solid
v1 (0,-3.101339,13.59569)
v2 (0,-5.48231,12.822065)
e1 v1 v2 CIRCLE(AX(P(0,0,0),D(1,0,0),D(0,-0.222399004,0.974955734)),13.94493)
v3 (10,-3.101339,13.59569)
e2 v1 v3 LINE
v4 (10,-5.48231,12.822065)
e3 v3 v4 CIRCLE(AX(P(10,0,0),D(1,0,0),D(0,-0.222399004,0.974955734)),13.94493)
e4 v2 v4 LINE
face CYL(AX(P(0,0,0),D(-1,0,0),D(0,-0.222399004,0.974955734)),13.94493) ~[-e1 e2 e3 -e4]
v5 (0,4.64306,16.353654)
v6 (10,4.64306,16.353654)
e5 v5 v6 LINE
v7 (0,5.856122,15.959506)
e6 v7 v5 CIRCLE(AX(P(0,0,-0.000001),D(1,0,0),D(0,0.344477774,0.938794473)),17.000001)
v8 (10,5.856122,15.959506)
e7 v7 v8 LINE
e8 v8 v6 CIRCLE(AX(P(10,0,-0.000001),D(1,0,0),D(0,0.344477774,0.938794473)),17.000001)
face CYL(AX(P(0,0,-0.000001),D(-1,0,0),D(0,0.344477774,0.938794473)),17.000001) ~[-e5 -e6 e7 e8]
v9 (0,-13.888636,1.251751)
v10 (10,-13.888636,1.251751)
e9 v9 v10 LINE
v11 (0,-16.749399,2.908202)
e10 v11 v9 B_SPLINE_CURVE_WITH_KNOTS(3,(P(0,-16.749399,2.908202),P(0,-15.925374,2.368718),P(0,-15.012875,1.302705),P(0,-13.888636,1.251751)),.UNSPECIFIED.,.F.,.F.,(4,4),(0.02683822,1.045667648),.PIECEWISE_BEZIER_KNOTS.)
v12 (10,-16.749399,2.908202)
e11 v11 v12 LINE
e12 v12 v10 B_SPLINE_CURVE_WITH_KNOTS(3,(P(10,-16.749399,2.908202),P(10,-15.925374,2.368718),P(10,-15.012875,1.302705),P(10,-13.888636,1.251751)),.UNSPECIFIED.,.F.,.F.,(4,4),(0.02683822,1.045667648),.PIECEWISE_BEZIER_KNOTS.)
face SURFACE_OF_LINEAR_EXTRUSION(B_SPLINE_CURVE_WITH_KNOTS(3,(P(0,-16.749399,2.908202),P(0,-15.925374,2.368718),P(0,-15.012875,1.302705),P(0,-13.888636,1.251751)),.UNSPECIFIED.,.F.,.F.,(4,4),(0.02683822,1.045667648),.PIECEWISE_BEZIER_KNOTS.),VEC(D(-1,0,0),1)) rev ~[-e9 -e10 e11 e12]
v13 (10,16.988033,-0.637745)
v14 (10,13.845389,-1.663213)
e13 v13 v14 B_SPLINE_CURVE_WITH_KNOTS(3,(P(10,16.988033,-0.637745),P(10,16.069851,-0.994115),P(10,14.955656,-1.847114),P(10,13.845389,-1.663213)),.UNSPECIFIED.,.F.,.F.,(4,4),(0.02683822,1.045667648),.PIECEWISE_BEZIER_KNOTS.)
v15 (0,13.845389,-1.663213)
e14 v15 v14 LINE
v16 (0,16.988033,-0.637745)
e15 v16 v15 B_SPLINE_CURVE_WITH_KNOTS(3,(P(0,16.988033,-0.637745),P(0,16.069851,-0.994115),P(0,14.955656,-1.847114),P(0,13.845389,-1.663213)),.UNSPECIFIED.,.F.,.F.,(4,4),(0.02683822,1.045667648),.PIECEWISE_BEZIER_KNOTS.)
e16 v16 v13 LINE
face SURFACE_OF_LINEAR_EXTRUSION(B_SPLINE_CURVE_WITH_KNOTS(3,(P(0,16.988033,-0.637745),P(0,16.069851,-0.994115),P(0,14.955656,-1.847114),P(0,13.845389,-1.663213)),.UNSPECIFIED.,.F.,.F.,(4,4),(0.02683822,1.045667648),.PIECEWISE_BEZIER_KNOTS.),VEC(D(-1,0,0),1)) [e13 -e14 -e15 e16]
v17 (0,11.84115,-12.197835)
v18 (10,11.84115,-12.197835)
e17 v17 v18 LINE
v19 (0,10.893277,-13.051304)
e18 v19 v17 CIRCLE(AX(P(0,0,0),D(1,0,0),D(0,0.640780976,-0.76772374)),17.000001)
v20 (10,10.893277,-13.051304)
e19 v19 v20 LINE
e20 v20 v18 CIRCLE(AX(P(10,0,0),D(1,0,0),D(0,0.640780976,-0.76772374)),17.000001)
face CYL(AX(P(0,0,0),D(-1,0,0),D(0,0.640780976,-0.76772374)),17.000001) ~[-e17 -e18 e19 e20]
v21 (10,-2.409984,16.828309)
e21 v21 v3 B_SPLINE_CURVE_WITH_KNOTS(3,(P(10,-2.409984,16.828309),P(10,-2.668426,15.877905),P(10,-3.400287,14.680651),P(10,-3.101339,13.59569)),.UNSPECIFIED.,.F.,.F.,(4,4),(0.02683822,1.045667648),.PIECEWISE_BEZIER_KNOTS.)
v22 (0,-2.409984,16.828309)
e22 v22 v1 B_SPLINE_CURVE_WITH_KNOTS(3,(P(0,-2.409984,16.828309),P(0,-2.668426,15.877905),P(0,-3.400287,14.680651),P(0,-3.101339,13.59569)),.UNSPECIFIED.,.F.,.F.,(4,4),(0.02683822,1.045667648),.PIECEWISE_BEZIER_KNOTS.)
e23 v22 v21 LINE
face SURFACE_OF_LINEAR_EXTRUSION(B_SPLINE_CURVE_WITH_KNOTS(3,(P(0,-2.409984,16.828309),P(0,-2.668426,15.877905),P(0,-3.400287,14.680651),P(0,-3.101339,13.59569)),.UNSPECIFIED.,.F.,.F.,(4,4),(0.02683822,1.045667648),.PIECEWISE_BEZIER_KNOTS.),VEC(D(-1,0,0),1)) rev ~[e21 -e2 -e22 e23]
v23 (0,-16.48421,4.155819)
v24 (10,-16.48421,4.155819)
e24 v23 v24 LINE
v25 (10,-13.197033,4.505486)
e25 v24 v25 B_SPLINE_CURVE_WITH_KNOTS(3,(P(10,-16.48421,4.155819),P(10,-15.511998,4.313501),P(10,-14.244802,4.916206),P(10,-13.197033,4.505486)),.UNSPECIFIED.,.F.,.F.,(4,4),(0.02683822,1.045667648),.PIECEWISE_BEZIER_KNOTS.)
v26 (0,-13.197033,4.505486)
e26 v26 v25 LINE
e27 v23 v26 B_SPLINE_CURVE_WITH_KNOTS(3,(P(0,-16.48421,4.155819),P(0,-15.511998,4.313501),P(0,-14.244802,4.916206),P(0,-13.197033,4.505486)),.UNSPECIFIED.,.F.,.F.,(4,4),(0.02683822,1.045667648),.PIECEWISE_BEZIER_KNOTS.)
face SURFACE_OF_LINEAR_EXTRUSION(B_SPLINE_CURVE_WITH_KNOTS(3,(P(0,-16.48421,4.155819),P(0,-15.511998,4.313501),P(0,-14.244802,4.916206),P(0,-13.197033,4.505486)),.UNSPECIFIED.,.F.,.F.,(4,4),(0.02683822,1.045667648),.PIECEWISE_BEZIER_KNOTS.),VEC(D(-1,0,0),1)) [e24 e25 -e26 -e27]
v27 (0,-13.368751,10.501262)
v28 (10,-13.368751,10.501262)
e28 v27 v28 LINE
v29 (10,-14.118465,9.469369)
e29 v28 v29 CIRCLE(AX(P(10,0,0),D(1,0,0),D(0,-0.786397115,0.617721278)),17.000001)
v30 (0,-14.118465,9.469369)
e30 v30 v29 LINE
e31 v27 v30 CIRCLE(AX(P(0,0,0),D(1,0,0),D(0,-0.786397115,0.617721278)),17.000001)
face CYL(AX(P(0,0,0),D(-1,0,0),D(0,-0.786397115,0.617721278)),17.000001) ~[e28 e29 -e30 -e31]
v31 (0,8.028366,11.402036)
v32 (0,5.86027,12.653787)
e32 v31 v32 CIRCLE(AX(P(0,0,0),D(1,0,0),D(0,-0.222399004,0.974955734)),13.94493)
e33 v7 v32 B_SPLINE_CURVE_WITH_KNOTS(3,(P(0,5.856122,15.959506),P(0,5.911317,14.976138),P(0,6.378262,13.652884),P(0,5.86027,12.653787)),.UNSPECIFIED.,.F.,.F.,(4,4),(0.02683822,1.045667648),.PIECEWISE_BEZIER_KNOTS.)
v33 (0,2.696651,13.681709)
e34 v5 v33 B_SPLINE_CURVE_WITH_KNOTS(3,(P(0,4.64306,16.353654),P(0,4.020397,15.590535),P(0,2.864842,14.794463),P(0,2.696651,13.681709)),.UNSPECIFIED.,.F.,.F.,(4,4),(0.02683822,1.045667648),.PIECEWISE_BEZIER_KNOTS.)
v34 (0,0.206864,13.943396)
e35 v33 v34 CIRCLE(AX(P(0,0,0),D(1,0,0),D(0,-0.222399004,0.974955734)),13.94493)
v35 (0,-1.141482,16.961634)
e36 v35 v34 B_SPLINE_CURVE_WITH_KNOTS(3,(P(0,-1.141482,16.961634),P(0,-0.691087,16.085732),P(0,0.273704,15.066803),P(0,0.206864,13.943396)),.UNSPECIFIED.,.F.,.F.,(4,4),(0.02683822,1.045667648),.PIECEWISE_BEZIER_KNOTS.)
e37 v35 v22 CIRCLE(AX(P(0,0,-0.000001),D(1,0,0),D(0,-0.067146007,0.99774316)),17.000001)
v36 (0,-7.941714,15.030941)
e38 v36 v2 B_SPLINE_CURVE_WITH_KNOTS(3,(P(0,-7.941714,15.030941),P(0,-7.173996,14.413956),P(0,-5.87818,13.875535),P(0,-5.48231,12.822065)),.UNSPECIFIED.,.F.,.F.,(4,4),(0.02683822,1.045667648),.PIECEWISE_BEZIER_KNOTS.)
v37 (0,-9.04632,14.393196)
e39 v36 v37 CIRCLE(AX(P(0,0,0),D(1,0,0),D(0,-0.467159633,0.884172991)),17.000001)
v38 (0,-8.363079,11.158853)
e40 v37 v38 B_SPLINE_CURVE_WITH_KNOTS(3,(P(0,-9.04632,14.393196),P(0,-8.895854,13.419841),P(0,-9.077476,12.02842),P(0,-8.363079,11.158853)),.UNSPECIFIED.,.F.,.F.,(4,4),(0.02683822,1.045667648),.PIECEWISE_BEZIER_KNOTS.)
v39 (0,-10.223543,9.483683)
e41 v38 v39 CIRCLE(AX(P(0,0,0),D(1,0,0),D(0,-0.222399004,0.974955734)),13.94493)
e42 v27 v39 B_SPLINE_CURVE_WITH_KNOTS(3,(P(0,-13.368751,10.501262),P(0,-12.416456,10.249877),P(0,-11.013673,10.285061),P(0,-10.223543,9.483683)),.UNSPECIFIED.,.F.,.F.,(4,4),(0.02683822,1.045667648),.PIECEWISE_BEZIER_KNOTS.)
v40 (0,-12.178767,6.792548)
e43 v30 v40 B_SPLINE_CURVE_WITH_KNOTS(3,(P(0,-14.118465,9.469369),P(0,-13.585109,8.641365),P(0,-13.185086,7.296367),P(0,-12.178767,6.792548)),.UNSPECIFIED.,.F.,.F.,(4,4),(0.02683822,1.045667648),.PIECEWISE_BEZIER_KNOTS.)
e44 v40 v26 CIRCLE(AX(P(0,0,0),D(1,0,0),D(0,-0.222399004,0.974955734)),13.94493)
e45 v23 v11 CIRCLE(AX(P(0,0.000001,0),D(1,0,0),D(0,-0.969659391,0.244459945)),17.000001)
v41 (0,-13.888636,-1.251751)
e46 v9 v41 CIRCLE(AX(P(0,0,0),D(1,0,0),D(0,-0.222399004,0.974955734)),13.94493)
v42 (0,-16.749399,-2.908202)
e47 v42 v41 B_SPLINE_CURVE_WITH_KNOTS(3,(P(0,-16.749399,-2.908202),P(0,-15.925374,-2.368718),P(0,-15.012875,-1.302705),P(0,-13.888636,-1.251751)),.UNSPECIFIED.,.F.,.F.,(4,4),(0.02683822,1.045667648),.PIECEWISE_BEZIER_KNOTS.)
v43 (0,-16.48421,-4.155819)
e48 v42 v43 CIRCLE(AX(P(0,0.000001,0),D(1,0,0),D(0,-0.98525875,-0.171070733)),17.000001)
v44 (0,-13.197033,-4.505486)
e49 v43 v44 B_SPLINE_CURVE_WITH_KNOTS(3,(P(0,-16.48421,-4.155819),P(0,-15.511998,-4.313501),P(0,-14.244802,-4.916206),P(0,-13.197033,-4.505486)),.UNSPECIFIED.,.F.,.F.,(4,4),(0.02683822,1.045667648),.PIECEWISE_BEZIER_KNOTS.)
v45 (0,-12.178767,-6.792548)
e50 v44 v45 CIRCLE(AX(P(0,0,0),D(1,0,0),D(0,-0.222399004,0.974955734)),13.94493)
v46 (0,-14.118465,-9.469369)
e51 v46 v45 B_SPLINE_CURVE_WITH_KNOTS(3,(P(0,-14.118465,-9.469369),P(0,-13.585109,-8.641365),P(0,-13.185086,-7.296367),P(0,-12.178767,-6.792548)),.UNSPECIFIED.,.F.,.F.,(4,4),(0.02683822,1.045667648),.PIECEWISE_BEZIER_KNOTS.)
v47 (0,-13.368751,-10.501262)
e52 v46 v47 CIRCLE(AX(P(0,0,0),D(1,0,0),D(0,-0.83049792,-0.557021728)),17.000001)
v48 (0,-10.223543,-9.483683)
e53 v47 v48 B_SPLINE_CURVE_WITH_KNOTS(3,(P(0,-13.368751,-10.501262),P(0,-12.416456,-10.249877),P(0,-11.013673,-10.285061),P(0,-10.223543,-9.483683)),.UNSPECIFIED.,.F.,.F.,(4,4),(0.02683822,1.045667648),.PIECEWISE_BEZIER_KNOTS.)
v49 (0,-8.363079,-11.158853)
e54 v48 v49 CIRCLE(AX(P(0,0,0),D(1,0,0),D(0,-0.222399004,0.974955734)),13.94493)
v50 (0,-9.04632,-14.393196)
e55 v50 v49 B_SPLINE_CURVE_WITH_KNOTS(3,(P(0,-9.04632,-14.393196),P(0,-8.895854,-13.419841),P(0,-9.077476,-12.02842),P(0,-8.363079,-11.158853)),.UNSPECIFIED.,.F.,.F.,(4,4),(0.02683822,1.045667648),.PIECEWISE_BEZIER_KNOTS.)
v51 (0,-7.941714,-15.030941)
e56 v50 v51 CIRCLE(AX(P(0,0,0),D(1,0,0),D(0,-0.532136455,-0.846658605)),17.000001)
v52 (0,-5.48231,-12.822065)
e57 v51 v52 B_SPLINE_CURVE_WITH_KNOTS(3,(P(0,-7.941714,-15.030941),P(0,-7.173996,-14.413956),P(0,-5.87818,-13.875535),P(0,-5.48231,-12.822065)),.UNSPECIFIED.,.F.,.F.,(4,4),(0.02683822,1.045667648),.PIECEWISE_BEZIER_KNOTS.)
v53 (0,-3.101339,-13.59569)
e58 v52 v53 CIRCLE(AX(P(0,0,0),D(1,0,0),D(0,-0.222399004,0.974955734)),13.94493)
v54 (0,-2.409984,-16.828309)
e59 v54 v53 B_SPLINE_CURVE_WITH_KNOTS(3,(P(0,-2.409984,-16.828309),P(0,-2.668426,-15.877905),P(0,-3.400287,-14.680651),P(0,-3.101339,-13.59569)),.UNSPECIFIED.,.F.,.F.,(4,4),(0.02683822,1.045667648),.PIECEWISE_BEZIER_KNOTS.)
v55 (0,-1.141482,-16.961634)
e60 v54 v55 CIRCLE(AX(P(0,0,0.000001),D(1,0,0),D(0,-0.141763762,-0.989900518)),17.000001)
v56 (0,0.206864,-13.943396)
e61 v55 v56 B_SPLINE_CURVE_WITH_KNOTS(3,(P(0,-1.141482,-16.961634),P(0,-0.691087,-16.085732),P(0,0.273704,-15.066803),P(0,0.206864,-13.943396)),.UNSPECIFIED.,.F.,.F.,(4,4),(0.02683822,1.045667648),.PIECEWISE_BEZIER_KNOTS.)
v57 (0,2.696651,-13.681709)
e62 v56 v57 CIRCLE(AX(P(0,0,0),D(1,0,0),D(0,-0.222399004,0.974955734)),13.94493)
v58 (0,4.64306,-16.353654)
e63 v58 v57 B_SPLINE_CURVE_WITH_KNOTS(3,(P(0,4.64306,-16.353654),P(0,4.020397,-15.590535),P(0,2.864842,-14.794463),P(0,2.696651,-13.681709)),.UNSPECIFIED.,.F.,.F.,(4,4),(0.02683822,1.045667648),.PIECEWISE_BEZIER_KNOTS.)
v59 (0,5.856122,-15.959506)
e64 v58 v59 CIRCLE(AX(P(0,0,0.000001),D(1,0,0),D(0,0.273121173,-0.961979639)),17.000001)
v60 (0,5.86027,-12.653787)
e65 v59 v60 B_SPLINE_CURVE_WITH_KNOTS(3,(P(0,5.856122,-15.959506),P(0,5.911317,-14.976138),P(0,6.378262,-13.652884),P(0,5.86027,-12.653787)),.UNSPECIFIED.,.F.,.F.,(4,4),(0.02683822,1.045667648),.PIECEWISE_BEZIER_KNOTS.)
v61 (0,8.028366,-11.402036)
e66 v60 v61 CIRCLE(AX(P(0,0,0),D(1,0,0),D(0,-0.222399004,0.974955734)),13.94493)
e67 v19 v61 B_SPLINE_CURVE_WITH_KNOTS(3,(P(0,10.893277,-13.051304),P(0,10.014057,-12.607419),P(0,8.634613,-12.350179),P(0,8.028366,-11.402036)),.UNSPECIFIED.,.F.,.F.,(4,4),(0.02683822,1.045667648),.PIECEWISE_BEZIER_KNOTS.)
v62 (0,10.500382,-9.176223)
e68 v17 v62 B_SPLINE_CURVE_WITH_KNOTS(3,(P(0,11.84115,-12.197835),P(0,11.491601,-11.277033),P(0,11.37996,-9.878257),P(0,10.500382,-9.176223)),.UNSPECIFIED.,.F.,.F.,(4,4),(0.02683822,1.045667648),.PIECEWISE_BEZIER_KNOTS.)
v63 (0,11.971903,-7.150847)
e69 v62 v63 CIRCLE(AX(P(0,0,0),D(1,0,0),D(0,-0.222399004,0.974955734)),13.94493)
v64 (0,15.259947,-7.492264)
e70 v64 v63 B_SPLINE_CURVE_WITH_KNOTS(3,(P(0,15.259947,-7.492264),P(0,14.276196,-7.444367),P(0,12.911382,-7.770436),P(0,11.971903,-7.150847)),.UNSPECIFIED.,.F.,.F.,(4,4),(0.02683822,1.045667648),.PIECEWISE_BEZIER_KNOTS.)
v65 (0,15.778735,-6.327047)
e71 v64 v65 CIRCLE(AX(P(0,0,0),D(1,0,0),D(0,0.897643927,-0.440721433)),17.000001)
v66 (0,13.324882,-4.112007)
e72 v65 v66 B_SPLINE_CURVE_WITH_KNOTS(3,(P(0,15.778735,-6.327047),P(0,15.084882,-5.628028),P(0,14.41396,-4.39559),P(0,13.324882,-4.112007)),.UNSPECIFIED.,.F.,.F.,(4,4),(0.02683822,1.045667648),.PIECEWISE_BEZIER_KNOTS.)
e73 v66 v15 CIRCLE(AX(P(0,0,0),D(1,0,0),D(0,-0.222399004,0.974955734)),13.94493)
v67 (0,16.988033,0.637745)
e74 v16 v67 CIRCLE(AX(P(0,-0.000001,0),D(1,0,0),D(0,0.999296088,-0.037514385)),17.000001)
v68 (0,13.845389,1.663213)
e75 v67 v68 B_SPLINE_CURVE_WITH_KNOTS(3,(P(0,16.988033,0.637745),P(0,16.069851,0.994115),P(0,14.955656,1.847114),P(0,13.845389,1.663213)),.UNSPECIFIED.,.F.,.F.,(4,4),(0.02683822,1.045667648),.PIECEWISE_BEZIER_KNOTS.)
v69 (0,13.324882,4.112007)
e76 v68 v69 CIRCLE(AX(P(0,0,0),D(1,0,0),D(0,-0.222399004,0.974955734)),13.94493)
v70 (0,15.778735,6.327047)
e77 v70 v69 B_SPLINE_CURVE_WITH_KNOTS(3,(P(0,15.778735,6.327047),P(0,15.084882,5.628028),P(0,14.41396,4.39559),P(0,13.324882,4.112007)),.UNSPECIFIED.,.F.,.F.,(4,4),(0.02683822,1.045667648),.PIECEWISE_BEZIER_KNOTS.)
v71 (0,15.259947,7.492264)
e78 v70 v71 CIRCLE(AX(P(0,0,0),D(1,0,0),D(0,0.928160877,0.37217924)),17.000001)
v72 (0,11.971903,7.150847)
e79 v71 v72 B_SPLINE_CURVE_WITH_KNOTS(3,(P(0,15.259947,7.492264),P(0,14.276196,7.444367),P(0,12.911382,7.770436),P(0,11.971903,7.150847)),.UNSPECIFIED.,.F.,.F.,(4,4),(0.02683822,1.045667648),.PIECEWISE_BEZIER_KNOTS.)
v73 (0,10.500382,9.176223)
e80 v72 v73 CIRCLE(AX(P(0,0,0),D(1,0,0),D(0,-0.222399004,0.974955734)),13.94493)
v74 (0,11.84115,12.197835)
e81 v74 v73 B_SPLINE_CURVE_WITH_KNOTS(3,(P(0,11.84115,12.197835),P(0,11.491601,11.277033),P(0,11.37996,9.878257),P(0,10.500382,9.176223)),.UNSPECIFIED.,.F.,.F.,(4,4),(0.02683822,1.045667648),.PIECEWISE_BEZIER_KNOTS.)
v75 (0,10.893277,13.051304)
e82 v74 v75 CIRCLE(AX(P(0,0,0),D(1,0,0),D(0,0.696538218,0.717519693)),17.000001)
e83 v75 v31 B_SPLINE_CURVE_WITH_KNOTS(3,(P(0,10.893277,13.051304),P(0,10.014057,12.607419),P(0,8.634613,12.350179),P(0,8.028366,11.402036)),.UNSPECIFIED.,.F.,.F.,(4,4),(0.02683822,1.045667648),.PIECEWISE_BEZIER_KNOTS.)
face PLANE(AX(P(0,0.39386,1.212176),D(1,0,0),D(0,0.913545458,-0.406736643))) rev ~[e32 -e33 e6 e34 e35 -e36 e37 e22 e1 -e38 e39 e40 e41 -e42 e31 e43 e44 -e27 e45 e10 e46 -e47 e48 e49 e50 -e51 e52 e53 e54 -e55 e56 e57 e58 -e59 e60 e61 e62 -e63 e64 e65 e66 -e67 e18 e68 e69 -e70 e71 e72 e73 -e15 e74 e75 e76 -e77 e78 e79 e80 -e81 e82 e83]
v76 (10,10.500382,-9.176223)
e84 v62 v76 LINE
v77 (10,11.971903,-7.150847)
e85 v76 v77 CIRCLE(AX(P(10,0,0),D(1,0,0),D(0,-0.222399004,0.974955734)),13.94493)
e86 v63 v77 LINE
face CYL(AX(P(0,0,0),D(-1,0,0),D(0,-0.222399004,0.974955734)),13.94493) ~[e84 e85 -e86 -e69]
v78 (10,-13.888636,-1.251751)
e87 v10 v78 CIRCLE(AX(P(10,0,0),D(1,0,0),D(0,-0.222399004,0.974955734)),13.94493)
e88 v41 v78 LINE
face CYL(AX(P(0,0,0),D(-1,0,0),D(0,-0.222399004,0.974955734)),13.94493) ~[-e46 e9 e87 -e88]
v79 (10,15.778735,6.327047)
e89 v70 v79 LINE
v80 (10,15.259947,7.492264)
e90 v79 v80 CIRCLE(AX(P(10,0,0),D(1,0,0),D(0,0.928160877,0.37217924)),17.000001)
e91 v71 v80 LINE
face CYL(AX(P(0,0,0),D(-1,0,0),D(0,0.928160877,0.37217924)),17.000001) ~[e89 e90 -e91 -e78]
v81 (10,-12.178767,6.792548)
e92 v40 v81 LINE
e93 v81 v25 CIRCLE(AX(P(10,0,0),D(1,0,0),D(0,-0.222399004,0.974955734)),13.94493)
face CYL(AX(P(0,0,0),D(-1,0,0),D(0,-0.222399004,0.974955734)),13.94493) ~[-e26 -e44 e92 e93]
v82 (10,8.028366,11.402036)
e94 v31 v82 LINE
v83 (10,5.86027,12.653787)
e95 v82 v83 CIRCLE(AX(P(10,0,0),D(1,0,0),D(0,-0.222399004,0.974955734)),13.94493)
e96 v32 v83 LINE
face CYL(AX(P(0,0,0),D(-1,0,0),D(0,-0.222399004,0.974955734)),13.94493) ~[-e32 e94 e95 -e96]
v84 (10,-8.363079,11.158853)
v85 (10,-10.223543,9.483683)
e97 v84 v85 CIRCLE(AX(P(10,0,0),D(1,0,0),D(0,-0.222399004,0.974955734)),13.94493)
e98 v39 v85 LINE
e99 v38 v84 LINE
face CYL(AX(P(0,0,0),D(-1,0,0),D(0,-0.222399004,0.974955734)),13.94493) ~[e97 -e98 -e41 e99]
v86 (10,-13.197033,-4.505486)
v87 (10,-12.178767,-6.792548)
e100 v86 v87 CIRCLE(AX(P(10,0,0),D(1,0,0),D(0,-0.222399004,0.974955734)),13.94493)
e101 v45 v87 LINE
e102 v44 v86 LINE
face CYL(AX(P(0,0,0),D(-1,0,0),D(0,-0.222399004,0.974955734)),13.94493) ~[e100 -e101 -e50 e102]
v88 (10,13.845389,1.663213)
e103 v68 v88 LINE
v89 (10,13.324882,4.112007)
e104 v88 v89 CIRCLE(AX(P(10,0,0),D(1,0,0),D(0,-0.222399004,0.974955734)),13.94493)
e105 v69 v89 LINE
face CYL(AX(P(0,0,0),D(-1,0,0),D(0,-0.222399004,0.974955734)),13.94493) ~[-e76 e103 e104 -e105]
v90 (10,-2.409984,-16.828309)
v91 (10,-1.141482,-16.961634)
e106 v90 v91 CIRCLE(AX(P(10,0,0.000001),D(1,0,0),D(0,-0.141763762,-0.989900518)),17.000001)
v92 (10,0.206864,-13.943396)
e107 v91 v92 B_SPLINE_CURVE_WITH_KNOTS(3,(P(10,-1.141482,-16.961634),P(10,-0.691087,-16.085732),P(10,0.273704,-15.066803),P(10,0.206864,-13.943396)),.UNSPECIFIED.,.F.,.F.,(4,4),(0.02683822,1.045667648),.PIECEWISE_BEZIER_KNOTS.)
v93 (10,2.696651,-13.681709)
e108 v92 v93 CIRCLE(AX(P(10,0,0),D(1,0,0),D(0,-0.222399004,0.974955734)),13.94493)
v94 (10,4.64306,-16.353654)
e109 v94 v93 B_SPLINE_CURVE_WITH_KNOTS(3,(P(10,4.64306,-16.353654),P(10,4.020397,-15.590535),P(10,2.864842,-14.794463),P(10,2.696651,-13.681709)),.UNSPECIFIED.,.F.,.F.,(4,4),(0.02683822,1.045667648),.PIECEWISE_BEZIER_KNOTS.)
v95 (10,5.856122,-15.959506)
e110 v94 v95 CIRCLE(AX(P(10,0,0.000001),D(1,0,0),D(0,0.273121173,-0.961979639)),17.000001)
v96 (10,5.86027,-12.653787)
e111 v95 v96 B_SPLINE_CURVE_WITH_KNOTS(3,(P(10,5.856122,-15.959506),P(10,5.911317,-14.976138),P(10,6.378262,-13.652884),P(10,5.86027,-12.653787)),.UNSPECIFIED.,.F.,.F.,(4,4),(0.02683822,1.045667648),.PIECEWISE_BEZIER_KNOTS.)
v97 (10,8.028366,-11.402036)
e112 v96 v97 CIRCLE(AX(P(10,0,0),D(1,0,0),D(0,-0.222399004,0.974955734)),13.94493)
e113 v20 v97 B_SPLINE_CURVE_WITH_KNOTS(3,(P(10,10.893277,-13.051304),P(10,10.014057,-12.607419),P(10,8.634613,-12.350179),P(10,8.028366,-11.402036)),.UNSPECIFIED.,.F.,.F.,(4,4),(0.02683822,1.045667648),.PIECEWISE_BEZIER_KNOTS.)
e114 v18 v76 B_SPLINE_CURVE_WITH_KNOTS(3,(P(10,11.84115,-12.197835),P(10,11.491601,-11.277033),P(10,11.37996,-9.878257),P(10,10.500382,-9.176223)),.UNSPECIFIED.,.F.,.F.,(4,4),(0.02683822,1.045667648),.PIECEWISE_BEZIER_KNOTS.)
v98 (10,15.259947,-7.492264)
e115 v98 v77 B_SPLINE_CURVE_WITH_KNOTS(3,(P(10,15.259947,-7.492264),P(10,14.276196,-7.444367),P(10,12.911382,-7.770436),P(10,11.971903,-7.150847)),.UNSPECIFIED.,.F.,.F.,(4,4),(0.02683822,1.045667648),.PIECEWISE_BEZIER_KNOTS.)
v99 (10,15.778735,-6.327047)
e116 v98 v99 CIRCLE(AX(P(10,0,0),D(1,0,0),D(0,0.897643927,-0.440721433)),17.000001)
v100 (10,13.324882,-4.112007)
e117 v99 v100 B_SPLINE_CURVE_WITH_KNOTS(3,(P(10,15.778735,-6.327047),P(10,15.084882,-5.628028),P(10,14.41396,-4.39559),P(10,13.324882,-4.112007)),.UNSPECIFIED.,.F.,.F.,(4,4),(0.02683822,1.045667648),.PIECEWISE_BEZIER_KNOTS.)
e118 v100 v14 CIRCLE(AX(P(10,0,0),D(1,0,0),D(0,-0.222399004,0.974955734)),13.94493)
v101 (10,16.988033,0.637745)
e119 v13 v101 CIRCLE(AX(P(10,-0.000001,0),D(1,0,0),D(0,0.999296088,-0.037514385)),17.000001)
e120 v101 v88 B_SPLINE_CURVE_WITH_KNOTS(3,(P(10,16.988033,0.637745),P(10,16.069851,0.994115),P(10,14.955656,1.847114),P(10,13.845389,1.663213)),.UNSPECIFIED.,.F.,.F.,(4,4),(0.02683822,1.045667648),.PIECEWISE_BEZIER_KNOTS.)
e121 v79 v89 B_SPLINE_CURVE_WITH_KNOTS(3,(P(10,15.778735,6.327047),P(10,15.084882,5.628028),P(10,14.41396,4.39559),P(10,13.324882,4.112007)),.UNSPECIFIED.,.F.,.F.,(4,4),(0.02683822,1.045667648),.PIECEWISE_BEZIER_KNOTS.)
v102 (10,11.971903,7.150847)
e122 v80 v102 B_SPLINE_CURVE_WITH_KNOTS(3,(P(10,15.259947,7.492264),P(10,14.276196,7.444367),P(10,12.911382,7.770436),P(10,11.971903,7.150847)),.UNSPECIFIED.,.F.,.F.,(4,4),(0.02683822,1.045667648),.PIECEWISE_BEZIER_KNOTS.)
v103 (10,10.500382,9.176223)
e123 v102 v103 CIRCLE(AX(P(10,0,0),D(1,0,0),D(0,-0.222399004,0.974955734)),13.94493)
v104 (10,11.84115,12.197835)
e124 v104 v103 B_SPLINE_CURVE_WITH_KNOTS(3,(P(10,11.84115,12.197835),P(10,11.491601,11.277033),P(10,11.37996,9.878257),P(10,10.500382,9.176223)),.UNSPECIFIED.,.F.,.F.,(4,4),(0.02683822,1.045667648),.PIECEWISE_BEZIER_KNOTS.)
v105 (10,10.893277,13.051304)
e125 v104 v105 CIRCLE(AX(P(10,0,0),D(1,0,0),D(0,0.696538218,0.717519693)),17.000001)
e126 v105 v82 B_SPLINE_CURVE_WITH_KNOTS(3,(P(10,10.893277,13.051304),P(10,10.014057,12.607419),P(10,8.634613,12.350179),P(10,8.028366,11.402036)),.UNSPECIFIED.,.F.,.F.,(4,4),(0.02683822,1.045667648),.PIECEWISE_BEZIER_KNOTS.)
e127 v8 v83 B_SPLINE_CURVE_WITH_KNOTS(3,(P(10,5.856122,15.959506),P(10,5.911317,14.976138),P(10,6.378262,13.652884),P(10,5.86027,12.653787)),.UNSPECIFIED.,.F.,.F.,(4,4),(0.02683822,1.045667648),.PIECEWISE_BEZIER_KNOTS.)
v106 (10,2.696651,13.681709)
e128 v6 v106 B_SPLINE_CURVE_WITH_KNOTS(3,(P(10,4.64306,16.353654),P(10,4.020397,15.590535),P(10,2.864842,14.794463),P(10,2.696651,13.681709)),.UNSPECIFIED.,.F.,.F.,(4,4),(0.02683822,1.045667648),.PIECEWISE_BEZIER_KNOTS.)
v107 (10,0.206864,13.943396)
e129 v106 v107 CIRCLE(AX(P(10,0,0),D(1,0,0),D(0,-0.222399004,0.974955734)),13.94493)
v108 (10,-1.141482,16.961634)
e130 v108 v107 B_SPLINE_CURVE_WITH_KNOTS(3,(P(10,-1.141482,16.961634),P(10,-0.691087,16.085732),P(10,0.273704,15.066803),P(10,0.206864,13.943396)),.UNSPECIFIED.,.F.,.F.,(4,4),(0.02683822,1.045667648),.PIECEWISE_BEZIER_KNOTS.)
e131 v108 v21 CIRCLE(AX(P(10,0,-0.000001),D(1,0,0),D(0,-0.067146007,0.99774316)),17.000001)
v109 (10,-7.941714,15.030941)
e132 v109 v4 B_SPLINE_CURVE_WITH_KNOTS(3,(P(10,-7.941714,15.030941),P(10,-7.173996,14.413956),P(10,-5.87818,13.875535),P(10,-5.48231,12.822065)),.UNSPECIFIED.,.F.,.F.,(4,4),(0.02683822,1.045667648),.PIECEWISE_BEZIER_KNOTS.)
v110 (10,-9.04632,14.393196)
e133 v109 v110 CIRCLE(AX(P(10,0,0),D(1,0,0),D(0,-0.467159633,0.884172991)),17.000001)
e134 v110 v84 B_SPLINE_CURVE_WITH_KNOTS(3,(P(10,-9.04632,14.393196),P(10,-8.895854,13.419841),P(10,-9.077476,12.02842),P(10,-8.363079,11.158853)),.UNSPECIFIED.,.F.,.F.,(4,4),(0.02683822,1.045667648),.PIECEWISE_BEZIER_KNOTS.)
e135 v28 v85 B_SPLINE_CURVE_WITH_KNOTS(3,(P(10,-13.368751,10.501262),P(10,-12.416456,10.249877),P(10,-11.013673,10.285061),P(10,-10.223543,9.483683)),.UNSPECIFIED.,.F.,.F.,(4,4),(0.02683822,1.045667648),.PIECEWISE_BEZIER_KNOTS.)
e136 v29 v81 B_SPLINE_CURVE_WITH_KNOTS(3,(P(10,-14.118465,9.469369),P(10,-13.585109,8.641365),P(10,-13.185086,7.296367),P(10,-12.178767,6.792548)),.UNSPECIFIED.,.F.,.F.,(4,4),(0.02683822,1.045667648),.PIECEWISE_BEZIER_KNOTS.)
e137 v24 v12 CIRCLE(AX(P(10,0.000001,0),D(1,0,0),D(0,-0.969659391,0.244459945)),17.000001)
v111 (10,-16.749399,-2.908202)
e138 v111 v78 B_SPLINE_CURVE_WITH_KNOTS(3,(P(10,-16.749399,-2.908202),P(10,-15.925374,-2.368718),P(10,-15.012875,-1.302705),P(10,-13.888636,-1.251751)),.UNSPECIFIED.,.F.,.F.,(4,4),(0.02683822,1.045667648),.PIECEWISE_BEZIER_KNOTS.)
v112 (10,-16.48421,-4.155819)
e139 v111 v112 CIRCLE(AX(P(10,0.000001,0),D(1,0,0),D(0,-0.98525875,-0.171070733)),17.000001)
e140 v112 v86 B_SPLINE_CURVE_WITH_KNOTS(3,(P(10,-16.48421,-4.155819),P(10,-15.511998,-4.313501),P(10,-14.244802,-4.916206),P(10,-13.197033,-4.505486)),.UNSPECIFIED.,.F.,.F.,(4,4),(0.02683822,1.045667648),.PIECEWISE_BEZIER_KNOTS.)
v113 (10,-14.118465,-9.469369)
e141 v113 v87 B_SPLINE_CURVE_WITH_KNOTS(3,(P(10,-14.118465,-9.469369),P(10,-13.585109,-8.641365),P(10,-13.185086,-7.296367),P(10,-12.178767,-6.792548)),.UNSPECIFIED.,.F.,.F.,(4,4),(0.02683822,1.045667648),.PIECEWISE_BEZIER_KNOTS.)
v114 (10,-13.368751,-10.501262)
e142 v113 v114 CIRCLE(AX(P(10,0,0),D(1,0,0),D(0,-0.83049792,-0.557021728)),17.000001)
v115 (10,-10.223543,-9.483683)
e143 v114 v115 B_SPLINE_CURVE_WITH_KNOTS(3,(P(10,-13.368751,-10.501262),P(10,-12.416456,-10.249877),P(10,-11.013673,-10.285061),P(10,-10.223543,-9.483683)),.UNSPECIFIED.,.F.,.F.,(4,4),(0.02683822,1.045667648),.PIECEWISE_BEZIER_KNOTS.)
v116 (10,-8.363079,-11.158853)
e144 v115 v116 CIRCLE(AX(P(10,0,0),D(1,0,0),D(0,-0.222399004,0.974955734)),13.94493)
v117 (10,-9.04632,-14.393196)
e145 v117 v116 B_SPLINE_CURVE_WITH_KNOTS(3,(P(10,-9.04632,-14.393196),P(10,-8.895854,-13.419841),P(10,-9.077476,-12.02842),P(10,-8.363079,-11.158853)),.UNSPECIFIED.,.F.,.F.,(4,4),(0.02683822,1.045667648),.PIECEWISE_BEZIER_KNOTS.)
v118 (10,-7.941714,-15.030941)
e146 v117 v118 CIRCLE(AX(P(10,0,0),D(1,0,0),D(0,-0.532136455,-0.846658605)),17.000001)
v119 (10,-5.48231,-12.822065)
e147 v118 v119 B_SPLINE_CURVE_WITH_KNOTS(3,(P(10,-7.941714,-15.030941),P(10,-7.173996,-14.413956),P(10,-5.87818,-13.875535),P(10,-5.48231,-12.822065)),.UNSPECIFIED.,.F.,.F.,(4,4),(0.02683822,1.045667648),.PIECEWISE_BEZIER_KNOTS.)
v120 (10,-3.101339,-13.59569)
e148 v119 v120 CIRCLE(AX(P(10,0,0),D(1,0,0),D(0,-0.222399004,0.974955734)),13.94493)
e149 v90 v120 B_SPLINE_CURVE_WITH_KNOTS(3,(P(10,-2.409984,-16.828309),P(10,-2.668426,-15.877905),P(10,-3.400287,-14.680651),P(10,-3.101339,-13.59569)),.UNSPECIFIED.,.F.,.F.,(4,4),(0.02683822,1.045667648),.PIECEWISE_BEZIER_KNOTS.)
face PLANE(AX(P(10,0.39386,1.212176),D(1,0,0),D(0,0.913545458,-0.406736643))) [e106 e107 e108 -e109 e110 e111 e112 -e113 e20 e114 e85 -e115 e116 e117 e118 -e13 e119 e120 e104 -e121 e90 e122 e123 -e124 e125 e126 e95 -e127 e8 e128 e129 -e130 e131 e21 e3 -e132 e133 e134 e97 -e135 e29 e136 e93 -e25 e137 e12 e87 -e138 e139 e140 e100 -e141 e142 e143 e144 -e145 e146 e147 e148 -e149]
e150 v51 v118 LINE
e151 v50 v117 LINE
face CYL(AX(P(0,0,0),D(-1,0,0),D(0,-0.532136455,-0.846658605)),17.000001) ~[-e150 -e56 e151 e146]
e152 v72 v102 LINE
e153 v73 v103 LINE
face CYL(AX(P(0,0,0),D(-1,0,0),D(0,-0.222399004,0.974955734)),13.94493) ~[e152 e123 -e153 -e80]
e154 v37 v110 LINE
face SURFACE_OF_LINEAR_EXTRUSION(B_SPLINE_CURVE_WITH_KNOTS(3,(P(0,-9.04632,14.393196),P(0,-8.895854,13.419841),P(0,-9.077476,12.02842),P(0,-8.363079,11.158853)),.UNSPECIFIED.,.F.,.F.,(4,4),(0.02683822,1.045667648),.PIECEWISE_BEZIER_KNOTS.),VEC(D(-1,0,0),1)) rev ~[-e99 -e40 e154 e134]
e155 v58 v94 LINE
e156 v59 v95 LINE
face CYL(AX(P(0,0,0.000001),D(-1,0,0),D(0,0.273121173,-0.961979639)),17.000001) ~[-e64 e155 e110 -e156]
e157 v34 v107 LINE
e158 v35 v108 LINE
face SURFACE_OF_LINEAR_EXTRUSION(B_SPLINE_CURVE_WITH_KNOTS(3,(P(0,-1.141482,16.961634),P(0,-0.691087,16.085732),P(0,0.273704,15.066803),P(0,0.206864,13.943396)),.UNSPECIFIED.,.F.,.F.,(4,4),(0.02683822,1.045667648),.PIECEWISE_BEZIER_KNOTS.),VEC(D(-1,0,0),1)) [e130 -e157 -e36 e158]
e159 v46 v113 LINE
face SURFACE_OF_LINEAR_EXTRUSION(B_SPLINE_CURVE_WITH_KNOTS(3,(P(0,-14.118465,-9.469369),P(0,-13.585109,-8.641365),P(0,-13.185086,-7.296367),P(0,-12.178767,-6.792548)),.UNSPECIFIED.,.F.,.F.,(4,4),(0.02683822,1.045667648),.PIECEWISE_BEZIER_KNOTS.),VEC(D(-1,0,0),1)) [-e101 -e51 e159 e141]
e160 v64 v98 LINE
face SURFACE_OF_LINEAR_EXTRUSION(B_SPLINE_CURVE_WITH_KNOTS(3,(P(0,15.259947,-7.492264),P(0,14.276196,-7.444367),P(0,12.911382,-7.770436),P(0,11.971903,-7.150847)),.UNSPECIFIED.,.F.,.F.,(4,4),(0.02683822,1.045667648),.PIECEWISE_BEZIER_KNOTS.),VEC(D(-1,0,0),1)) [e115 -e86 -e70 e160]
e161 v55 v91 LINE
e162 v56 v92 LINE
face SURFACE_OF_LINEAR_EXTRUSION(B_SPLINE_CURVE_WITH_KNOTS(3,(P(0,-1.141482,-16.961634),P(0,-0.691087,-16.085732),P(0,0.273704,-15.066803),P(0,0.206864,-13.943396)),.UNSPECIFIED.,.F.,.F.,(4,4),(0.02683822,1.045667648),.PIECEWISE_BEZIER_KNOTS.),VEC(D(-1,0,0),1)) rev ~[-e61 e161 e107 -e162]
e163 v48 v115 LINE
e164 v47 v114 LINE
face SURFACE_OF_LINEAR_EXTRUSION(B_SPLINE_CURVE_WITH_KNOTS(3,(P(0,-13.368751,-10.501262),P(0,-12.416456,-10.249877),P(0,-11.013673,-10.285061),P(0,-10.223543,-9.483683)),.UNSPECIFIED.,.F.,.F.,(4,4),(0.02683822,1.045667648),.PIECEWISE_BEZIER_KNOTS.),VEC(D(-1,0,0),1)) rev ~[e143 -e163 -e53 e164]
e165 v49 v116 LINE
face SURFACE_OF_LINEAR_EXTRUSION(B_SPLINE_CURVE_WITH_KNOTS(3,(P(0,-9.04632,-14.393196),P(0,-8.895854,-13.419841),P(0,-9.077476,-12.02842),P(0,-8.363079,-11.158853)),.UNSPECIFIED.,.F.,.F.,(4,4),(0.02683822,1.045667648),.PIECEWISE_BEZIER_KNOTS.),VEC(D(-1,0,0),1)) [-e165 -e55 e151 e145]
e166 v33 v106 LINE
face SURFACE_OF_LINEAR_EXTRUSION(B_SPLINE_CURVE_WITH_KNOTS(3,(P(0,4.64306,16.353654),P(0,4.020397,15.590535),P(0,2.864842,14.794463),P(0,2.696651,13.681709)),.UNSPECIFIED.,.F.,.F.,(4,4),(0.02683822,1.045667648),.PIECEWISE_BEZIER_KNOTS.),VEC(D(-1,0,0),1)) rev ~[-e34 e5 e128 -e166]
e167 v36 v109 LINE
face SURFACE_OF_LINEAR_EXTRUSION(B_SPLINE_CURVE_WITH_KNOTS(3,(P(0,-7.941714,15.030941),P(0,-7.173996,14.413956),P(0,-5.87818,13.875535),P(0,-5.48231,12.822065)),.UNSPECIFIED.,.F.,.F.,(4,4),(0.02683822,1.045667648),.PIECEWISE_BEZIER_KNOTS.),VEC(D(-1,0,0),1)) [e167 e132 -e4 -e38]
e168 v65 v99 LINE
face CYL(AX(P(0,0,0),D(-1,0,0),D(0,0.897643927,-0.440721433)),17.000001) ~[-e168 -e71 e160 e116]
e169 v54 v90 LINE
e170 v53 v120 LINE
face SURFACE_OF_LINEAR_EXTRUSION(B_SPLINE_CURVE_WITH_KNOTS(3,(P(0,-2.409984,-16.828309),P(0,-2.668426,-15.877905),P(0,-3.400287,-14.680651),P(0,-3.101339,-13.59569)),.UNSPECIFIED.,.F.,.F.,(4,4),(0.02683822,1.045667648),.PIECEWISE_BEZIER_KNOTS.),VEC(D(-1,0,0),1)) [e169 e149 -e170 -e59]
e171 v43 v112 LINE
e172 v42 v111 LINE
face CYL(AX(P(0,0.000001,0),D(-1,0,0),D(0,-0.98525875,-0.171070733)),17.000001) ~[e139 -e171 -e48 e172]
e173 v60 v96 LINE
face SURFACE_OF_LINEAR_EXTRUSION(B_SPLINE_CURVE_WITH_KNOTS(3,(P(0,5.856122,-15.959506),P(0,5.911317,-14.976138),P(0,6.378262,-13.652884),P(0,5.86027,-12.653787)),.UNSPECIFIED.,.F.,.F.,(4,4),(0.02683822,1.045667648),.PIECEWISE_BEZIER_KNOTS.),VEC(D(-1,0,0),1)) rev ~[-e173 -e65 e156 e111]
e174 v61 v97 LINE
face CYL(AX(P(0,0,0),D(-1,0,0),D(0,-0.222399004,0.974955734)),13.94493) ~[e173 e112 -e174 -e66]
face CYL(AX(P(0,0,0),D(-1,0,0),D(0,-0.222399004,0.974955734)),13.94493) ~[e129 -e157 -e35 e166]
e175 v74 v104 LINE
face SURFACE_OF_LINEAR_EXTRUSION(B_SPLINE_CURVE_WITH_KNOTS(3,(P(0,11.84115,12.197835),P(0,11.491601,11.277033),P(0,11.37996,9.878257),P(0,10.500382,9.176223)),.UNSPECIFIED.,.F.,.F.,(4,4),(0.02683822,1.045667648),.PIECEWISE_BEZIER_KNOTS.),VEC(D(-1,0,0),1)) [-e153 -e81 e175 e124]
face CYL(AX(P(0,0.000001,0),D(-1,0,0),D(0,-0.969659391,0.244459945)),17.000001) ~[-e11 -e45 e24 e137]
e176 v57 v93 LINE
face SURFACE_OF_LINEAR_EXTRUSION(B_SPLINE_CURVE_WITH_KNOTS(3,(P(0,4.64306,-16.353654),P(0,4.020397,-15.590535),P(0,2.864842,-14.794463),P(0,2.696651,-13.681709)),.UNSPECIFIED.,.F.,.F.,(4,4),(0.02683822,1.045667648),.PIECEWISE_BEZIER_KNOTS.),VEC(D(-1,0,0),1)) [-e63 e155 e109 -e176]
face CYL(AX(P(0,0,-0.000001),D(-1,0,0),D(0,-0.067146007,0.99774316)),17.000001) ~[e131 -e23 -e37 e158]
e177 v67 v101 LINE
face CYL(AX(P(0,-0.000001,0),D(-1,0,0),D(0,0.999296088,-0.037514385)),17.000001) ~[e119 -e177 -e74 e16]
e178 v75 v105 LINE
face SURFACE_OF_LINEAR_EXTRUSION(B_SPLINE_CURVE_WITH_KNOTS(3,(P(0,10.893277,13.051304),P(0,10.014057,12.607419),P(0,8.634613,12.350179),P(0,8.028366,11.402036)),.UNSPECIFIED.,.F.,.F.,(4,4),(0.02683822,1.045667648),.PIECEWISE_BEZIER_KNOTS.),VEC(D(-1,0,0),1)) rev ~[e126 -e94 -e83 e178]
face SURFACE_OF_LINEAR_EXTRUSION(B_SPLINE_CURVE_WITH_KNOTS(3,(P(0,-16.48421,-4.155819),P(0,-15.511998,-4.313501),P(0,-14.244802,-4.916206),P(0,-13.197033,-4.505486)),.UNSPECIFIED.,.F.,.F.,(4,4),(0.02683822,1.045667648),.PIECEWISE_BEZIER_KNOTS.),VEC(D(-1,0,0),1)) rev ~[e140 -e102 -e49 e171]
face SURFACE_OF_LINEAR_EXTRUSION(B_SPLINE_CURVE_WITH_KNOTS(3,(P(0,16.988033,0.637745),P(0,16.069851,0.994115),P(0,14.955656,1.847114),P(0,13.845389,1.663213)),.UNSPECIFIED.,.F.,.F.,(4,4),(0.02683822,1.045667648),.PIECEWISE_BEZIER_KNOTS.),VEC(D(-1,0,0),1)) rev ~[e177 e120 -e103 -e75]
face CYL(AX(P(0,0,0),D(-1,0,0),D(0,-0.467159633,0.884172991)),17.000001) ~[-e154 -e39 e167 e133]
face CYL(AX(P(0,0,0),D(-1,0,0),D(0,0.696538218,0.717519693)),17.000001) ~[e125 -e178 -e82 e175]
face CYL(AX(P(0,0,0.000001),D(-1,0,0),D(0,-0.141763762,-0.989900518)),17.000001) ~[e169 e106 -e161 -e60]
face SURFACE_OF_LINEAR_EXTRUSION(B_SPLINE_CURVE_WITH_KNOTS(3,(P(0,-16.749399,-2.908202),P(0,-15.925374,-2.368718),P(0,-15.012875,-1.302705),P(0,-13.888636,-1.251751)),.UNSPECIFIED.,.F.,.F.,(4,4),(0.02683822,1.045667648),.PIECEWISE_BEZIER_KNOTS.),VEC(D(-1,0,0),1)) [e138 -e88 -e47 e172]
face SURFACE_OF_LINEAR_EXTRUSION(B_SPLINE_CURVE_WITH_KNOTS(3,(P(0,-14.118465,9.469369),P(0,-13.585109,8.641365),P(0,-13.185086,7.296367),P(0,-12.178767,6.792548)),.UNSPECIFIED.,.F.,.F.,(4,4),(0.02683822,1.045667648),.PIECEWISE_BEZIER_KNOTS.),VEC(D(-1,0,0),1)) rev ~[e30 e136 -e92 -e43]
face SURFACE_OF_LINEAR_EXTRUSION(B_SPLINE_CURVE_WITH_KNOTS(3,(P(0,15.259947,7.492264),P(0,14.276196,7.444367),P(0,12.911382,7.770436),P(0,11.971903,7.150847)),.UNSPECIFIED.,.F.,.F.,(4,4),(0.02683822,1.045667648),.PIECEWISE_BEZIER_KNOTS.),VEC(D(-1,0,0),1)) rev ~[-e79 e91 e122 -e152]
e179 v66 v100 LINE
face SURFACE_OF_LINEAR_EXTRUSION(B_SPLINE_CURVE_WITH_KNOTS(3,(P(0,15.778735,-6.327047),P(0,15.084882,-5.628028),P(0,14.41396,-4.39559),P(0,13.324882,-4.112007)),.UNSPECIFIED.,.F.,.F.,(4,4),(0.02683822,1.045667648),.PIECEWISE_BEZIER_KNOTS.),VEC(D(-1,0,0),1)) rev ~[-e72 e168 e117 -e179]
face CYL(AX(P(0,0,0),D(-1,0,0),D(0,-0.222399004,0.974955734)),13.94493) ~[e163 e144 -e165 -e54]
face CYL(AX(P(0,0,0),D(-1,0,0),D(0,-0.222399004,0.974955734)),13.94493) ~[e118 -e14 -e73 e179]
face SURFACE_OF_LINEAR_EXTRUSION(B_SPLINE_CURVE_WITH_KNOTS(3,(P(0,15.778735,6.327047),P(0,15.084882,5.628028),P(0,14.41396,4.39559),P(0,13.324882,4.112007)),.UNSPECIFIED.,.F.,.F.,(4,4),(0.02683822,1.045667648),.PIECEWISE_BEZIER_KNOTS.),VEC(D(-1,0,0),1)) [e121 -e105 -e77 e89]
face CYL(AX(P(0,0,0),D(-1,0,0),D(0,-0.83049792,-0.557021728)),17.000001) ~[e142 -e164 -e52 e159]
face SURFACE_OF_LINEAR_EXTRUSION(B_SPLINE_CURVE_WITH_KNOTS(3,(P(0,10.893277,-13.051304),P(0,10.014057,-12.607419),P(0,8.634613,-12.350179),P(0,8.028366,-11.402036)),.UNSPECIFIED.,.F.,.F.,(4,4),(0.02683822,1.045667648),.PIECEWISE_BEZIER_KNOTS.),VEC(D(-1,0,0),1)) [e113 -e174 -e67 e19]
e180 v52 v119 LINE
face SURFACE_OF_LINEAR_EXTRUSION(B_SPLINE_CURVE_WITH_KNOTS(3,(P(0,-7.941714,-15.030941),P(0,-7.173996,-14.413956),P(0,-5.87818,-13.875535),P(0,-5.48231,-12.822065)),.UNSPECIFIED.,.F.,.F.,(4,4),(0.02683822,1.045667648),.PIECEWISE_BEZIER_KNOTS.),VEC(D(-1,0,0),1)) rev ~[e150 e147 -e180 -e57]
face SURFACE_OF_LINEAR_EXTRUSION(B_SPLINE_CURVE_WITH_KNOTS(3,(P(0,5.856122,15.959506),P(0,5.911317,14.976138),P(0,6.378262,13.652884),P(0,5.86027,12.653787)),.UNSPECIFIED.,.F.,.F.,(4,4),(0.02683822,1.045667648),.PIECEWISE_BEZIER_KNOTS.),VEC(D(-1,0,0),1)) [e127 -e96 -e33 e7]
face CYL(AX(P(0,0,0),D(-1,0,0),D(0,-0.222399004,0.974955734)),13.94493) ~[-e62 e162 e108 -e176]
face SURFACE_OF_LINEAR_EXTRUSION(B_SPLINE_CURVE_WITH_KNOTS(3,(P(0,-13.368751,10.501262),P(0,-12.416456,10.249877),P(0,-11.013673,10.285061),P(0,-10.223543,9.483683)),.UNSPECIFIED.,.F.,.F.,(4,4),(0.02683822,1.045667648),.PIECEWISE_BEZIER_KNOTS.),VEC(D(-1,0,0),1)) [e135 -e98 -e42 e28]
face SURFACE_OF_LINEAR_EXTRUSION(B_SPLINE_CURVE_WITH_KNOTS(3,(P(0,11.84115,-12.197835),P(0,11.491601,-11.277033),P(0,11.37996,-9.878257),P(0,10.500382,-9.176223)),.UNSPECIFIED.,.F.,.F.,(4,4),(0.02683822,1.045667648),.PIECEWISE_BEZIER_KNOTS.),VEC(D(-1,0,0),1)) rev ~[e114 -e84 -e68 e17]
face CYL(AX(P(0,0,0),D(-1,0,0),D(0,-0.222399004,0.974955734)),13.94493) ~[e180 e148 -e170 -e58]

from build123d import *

# Parameters (mm, degrees)
BOSS_EXTRUDE1_DEPTH = 10
CIRPATTERN1_COUNT   = 15


with BuildPart() as part:
    # Sketch3 → Boss-Extrude1 (new body)
    with BuildSketch(Plane.YZ):
        with BuildLine():
            ThreePointArc((-1.141482098, 16.961633725), (-1.776983876, 16.906872221), (-2.409983971, 16.828308806))
            add(Edge.make_bspline(
                [(-2.409983971, 16.828308806), (-2.668426254, 15.877904884), (-3.400287418, 14.680650879), (-3.101338611, 13.595689764)],
                knots=[0.02683822, 0.02683822, 0.02683822, 0.02683822, 1.045667648, 1.045667648, 1.045667648, 1.045667648], degree=3))
            ThreePointArc((-3.101338611, 13.595689764), (1.457642136, -13.868538522), (0.206864074, 13.943395877))
            add(Edge.make_bspline(
                [(-1.141482098, 16.961633725), (-0.691087313, 16.085731582), (0.273704033, 15.066802941), (0.206864074, 13.943395877)],
                knots=[0.02683822, 0.02683822, 0.02683822, 0.02683822, 1.045667648, 1.045667648, 1.045667648, 1.045667648], degree=3))
        make_face()
    boss_extrude1 = extrude(amount=BOSS_EXTRUDE1_DEPTH)

    # CirPattern1: Boss-Extrude1 ×15 about axis
    cirpattern1_axis = Axis((10, 0, 0), (1, 0, 0))
    for i in range(1, CIRPATTERN1_COUNT):
        add(boss_extrude1.rotate(cirpattern1_axis, i * 360 / CIRPATTERN1_COUNT))


solid = part.part
